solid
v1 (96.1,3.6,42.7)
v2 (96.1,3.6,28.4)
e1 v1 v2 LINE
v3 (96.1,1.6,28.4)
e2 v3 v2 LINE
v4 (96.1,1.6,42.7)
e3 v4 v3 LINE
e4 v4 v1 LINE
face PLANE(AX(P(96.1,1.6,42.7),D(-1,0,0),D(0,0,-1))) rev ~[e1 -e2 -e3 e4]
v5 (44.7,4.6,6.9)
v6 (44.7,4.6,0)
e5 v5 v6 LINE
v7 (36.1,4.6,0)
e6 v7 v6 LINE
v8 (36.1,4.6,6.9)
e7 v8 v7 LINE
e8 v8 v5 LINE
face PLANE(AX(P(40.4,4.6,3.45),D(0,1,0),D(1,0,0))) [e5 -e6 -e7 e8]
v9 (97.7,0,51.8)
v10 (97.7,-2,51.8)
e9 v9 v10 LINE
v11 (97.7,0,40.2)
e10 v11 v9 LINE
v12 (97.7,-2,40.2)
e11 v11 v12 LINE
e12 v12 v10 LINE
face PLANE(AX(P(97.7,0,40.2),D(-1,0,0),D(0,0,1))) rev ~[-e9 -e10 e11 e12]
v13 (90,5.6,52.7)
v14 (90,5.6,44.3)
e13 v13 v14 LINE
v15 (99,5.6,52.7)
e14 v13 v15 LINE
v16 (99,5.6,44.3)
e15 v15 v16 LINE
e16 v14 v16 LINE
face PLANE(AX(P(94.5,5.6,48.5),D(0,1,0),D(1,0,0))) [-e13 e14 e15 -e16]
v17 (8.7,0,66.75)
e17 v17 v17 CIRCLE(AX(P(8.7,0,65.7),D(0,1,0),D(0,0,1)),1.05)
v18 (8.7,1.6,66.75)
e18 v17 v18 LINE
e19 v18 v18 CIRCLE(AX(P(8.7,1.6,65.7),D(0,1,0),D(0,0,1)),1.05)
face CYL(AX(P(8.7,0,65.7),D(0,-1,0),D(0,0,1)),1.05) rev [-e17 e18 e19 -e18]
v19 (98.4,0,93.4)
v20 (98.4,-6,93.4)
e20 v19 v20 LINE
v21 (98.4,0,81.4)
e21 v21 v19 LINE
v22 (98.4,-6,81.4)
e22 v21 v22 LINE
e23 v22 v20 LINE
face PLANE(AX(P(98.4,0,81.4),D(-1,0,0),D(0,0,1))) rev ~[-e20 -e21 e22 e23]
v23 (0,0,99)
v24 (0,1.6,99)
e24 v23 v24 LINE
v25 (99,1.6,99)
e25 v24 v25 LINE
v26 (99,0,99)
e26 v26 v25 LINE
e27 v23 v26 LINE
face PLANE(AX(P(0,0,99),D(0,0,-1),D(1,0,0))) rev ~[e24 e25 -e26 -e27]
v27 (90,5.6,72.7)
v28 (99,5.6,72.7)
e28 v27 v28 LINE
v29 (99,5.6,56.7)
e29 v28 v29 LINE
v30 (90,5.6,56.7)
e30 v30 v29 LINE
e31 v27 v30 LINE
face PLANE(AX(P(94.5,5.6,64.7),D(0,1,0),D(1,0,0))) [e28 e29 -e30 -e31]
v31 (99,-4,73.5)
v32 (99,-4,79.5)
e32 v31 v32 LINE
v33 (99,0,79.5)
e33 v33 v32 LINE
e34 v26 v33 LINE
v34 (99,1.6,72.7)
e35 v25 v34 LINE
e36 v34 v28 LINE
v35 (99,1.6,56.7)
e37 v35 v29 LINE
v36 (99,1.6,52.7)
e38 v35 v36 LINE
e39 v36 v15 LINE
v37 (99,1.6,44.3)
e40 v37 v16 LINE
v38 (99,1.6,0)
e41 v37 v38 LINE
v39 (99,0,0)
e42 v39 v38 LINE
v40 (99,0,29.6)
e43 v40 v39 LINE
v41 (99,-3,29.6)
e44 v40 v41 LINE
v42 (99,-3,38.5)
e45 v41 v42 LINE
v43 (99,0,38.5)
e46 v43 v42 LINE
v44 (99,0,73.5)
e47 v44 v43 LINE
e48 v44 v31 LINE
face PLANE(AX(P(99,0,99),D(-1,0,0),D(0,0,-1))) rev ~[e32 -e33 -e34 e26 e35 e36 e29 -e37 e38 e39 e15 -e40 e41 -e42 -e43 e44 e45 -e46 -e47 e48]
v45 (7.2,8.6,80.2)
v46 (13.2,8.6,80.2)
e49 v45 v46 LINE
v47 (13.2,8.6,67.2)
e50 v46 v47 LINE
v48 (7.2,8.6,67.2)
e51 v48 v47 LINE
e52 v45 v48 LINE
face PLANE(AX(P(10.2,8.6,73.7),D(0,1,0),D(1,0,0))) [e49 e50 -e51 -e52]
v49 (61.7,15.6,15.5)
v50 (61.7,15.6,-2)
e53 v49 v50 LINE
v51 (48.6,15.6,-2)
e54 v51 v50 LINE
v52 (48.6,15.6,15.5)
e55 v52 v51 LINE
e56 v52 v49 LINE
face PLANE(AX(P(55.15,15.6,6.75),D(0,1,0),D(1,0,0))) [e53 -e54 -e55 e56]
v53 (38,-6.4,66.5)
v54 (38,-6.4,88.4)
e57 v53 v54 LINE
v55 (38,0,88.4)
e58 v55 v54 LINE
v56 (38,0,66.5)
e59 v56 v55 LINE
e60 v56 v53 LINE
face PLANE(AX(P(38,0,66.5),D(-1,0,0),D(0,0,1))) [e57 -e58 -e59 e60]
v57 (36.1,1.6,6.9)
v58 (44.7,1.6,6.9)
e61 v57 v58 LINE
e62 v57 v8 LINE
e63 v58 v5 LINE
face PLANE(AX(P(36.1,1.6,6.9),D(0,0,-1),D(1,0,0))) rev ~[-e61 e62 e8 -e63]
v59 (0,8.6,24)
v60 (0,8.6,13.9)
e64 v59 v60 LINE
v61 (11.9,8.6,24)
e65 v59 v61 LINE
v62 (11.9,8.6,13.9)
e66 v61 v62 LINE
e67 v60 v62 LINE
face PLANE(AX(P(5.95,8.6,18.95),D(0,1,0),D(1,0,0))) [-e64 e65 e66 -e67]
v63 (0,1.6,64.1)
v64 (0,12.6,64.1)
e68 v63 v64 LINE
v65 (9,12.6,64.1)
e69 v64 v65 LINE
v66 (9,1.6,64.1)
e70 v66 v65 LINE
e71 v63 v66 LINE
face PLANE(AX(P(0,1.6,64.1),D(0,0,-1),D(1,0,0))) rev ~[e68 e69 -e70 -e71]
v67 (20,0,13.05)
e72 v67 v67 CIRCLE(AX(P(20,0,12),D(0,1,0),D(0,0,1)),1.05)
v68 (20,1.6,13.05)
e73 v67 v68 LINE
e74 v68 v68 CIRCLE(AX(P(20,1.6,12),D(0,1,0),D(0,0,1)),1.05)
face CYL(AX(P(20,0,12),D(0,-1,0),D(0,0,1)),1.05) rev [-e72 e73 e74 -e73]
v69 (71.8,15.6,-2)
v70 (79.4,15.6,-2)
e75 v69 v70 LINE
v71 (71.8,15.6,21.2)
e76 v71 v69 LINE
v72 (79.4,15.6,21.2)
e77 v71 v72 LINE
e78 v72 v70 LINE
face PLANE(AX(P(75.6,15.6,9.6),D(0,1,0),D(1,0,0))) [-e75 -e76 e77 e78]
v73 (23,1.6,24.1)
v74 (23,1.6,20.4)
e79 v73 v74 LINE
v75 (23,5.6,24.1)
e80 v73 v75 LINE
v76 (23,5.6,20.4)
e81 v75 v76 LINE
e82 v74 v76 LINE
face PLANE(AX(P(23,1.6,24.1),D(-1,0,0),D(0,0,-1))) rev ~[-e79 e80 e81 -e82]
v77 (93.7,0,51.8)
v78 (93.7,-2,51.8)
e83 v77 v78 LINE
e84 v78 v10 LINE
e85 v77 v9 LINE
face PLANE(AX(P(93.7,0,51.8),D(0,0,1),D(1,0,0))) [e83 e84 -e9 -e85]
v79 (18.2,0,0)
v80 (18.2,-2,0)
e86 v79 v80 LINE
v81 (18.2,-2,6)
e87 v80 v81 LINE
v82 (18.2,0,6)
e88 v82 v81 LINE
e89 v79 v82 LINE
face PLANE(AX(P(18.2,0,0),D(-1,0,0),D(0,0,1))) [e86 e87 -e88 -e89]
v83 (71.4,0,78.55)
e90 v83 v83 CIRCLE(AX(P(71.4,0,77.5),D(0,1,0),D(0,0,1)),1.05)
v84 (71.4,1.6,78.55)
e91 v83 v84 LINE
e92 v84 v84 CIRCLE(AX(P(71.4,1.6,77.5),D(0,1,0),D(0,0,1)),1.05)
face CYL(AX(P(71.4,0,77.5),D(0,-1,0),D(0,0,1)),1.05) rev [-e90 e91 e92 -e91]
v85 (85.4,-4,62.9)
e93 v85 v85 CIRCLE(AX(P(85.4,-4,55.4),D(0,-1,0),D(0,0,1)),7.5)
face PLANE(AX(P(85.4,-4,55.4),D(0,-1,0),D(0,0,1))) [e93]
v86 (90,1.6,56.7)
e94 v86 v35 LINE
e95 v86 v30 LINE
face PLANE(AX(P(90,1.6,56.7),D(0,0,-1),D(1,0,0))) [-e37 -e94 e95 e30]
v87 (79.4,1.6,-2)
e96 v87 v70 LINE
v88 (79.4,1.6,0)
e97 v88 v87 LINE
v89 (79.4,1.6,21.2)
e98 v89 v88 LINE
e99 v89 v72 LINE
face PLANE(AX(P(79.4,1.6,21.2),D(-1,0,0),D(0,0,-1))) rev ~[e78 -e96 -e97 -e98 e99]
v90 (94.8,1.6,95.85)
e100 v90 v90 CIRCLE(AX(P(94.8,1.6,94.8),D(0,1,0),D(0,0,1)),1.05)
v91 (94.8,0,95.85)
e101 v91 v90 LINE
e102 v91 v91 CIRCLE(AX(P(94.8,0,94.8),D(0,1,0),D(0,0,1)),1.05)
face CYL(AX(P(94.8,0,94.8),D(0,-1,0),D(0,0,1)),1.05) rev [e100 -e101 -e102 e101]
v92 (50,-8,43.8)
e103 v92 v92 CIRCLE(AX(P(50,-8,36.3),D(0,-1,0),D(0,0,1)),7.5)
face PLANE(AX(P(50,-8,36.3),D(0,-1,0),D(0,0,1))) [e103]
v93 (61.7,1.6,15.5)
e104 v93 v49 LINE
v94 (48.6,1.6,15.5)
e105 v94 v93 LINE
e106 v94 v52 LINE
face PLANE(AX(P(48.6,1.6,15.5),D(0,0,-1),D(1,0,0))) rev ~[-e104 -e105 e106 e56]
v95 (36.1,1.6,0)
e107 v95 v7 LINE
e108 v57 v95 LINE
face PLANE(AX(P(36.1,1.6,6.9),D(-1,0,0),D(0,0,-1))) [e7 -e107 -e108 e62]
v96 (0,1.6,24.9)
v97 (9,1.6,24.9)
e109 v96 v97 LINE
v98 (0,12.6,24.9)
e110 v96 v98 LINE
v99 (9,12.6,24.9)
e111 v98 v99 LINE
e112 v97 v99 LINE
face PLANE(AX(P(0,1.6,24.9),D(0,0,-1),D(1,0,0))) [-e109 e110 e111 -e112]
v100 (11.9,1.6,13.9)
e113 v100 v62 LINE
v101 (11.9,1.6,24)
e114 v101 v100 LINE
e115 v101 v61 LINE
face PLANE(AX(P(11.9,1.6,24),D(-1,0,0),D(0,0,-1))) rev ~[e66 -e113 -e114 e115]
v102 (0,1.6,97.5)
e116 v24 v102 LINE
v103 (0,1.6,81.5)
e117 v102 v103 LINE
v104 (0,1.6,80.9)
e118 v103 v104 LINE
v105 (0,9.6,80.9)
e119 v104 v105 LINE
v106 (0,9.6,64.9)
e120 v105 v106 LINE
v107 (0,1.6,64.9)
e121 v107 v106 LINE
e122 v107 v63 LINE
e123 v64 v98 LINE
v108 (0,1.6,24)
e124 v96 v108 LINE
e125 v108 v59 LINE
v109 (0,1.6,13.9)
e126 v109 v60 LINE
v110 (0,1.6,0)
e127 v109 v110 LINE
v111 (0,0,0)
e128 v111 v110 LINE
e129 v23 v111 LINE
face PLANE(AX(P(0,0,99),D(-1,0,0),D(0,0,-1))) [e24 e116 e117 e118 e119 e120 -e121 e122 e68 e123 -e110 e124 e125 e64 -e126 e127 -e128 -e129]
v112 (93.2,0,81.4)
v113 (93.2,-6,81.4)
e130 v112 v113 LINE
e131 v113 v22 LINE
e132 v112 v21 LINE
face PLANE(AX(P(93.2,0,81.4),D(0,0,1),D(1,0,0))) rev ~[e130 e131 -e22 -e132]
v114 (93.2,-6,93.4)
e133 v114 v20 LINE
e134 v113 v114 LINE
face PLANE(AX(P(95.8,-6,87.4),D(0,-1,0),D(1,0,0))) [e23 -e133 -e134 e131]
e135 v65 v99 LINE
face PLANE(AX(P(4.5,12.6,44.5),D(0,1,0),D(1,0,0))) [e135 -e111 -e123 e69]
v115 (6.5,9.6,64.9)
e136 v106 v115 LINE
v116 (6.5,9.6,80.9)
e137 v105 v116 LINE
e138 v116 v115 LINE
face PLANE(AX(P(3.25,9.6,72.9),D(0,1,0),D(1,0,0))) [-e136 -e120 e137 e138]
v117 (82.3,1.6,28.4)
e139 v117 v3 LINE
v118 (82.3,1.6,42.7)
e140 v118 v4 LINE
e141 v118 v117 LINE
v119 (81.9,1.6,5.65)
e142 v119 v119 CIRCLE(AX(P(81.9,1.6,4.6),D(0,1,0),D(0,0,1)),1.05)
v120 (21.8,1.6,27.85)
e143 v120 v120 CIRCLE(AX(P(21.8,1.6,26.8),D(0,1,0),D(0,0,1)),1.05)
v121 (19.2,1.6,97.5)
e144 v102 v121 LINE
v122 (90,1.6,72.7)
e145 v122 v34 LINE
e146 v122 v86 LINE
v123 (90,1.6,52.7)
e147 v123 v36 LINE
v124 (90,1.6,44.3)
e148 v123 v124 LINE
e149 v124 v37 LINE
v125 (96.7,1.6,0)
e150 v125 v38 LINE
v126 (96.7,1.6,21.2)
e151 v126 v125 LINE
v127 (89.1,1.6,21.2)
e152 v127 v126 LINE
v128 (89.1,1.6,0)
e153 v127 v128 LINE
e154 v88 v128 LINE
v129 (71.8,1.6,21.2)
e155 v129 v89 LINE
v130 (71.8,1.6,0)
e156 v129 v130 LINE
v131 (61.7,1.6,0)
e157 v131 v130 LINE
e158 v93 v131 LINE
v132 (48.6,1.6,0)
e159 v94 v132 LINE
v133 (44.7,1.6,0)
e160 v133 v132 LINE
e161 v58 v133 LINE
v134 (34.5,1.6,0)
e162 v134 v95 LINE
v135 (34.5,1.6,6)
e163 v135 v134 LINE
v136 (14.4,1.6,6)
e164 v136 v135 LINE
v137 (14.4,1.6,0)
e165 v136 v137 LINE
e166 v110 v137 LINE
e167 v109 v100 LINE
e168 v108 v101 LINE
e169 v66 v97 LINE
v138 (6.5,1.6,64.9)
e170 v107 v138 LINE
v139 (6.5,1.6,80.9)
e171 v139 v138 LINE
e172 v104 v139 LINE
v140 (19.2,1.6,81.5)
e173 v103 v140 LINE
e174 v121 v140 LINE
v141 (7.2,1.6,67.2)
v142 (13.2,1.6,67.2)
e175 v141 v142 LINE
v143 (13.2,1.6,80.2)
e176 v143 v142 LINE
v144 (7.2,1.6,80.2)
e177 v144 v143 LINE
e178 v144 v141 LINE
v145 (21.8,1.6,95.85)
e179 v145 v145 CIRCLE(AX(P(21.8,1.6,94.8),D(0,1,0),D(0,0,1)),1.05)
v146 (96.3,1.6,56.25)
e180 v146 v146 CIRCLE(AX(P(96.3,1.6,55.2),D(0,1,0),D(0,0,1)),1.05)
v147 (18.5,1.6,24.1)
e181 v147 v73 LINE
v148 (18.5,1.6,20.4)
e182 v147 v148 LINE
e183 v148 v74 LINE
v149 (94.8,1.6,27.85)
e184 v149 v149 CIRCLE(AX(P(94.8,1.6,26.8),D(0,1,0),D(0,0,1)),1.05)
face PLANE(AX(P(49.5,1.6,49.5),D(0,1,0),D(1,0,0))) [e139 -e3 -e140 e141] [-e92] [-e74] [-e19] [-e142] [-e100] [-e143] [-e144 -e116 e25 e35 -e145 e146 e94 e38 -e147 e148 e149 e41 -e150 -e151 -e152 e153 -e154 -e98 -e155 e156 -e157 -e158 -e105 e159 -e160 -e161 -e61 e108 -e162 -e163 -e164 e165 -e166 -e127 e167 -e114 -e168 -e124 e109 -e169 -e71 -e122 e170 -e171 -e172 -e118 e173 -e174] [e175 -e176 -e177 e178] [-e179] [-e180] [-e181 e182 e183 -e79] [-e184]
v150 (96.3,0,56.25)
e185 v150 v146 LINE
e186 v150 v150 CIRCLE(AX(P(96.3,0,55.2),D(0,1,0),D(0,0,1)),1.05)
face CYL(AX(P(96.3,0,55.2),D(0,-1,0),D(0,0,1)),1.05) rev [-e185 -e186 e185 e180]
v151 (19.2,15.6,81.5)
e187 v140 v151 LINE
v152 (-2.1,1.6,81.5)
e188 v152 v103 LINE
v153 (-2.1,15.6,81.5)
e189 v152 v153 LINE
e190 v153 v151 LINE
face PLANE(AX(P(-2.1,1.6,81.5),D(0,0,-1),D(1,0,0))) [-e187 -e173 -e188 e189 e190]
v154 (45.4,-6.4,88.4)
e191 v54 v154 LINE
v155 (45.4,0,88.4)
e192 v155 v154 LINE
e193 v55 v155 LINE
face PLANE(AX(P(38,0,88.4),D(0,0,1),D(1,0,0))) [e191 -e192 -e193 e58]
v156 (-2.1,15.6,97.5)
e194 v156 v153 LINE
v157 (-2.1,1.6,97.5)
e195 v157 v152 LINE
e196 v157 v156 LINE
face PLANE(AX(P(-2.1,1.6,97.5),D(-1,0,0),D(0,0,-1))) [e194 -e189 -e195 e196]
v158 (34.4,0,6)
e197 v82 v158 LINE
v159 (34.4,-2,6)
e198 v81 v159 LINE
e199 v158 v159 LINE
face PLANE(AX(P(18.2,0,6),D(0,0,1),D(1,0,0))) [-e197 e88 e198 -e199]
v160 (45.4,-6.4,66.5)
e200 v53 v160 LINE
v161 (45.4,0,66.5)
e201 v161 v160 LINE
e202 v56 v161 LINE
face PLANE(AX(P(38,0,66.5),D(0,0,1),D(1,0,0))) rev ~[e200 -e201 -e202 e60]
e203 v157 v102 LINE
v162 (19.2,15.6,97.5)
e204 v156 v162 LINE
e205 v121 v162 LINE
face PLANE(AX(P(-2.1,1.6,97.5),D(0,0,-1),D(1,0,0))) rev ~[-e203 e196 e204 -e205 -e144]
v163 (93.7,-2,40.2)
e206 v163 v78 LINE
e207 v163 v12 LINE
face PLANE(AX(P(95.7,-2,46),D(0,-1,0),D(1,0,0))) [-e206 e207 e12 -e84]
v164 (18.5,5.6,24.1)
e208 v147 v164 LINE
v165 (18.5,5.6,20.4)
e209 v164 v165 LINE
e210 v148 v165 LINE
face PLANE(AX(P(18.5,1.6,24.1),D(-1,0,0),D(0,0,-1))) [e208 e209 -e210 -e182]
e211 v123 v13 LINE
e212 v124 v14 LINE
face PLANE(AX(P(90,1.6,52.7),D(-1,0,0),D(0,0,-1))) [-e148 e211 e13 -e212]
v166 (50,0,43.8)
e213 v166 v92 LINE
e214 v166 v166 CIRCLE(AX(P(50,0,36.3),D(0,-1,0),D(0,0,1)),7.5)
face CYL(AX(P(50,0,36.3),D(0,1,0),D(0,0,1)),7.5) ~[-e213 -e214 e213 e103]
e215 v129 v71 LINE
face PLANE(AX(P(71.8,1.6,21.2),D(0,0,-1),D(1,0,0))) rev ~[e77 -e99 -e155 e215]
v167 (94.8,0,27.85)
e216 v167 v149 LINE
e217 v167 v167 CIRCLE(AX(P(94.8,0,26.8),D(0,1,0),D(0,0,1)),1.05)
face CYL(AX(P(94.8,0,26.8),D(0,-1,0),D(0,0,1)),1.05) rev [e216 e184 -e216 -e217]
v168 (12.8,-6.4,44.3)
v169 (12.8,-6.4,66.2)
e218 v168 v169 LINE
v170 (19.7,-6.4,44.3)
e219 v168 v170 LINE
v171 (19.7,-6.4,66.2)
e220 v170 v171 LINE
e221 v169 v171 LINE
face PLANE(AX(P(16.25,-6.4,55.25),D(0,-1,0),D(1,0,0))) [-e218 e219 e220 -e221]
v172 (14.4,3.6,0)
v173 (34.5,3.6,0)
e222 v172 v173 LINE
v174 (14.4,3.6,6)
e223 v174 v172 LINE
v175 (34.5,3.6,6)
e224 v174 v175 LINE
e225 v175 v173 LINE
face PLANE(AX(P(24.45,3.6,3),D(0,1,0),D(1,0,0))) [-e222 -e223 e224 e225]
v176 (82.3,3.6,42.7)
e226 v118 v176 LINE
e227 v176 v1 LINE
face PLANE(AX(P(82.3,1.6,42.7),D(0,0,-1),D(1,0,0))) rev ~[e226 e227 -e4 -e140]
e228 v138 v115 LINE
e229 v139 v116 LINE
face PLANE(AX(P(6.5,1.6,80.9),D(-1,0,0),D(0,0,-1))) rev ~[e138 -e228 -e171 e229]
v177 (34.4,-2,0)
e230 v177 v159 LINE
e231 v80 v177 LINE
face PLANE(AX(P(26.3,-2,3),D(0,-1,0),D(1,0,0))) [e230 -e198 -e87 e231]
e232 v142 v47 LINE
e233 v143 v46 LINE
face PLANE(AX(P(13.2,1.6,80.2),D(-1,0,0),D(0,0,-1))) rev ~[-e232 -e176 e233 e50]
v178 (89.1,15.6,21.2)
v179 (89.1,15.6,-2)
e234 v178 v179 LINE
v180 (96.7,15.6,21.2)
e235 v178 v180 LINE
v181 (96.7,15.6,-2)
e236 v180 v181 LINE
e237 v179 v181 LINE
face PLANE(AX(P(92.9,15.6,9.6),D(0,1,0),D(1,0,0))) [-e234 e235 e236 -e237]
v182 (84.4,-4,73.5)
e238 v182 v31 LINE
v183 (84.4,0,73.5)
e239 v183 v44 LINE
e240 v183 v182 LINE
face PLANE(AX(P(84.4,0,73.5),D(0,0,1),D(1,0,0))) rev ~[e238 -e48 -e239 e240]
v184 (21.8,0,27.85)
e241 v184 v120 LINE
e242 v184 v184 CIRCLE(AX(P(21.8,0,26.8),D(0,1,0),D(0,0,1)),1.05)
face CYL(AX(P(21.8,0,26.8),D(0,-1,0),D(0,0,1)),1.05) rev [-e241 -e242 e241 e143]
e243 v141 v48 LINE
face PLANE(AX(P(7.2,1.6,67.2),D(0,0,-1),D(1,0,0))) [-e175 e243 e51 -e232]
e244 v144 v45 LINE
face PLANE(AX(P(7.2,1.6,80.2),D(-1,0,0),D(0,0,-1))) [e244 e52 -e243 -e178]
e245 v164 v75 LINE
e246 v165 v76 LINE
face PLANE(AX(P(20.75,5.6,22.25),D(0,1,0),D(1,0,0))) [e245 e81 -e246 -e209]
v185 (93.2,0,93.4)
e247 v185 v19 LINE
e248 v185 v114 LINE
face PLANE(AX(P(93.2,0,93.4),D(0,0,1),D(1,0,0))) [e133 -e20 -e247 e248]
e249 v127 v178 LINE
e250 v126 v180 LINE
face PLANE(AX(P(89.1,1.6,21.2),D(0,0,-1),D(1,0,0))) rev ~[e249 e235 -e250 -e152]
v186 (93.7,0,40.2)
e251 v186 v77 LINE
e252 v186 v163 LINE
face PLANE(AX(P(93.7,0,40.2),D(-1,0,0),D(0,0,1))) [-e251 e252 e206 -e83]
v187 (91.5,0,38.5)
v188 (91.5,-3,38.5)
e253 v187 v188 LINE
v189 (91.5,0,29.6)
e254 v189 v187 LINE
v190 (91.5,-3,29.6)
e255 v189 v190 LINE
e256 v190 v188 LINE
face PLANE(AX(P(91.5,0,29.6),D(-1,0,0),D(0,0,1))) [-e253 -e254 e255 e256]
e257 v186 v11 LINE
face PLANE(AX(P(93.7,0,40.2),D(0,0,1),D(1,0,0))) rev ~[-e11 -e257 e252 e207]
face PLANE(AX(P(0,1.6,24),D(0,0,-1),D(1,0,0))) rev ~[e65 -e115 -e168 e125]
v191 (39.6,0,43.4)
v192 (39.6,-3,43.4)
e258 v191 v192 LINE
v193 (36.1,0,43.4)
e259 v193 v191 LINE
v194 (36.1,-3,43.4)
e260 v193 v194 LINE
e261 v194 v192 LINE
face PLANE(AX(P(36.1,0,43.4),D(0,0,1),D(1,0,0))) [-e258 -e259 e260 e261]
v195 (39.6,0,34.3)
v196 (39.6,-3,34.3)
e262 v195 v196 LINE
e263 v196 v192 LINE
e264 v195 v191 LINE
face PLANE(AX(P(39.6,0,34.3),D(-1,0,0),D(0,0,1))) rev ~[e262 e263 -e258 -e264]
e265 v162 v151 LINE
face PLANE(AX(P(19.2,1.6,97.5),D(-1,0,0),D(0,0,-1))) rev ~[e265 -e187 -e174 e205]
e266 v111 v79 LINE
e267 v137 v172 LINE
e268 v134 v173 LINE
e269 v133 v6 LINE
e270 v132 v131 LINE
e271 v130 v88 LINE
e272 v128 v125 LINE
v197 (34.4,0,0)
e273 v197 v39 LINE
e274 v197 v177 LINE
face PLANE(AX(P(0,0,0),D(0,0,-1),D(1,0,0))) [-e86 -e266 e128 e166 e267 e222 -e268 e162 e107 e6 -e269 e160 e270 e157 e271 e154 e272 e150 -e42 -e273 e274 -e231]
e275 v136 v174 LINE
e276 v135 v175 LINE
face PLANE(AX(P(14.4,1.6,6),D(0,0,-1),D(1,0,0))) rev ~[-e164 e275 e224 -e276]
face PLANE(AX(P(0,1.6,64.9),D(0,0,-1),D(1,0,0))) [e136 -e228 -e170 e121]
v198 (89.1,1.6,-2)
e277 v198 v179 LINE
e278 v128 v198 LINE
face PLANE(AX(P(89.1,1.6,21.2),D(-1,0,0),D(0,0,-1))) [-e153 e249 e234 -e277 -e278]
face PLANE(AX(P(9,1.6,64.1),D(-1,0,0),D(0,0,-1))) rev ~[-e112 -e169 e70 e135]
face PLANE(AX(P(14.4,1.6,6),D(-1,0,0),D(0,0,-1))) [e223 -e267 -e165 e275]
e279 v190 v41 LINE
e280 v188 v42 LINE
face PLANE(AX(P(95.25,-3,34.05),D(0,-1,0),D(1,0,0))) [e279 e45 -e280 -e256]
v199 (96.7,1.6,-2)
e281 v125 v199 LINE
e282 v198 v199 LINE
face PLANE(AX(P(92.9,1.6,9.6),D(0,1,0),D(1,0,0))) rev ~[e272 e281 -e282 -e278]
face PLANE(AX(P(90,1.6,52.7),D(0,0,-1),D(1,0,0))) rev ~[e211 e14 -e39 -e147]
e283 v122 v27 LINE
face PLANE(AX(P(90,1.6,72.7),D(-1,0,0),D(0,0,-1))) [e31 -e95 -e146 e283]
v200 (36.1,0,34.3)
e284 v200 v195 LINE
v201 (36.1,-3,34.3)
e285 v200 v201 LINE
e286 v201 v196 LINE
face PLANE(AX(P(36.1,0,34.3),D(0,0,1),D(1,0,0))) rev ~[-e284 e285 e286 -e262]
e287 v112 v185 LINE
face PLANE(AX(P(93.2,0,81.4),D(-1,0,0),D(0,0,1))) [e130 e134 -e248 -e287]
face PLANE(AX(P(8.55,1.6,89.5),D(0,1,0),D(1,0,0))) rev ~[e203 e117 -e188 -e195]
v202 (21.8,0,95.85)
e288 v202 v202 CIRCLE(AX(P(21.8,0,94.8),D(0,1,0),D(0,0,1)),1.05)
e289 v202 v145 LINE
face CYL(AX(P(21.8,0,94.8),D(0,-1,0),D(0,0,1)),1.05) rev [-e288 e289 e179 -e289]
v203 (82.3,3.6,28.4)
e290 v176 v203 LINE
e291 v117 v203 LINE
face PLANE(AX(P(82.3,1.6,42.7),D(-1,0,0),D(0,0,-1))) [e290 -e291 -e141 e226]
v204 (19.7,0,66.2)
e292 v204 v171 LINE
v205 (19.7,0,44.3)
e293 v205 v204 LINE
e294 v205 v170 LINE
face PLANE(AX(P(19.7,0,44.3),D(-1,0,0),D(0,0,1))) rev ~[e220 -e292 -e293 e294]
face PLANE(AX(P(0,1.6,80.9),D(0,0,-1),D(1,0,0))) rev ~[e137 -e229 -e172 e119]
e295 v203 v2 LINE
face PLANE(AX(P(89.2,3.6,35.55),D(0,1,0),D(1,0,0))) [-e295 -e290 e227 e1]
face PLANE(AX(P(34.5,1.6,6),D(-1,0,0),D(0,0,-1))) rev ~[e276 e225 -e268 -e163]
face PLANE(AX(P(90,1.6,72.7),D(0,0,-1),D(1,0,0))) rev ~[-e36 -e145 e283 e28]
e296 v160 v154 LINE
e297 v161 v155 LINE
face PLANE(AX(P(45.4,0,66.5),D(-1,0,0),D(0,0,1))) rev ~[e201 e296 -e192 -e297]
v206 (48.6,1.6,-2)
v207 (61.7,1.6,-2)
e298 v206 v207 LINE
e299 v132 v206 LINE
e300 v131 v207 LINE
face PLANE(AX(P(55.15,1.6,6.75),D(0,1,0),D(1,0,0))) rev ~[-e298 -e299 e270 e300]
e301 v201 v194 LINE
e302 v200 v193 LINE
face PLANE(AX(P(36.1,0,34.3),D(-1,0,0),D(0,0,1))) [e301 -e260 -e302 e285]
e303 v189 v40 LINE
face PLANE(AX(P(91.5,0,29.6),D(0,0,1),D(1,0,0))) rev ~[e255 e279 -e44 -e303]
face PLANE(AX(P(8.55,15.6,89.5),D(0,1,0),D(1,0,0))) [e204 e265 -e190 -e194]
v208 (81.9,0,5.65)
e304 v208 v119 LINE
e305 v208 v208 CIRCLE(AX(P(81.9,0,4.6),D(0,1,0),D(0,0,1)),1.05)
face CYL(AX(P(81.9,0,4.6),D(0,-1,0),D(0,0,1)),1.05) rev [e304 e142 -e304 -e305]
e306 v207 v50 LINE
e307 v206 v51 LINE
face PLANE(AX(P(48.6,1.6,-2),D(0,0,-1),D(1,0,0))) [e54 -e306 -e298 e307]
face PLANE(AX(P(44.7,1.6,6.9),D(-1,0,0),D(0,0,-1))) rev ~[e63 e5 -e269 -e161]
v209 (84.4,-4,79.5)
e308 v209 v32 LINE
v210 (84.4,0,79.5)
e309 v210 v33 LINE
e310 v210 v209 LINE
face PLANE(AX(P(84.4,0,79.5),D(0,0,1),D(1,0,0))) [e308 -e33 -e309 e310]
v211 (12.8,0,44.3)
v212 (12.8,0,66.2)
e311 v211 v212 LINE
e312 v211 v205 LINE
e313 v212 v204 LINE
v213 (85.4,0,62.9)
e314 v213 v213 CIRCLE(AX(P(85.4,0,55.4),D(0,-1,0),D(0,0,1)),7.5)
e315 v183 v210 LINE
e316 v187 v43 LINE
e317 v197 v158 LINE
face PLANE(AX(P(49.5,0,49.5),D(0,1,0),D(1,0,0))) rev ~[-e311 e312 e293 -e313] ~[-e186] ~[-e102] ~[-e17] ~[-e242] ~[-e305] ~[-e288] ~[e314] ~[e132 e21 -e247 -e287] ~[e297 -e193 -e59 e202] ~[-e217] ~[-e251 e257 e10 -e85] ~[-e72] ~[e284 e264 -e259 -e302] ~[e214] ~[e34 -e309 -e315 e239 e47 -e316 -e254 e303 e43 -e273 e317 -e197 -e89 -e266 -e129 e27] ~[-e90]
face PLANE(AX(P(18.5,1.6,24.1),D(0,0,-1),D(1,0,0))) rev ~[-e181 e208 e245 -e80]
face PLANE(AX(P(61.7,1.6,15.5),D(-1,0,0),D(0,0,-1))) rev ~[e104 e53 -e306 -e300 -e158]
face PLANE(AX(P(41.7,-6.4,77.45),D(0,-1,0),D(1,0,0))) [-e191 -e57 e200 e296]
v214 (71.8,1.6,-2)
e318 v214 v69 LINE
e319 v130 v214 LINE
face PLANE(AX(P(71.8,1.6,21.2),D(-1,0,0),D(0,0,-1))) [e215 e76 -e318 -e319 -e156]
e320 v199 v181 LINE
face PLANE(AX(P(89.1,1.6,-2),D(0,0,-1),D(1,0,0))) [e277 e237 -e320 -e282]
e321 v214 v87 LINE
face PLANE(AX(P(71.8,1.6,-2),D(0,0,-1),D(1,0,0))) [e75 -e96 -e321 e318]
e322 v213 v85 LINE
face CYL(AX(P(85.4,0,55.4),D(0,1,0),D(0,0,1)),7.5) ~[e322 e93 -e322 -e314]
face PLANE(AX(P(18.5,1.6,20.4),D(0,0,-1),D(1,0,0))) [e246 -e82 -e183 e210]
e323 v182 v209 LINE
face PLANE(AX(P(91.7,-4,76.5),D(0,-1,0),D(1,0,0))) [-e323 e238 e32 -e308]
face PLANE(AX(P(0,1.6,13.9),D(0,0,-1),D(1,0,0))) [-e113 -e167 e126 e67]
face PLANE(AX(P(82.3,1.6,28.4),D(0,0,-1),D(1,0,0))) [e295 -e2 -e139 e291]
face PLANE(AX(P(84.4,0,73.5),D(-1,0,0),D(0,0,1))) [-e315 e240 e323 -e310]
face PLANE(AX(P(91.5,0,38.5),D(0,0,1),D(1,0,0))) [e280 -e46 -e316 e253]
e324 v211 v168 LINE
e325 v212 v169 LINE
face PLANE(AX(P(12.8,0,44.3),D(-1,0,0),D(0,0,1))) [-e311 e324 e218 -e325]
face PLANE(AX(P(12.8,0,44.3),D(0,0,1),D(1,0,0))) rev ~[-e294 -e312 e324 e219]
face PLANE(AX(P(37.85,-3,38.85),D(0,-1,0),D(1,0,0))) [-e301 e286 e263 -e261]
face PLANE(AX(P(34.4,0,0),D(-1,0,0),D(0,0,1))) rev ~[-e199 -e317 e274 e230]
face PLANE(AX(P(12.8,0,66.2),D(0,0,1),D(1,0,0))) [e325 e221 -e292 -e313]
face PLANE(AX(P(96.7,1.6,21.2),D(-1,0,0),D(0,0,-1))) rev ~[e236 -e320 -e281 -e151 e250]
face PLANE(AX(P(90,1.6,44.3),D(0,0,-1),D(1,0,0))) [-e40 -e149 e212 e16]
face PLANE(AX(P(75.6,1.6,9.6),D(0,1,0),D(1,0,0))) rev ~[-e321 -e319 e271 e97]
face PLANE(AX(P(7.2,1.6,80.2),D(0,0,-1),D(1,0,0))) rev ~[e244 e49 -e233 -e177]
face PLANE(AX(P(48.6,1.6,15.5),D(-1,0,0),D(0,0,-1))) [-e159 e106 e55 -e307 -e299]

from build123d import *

# Parameters (mm, degrees)
SKETCH_1_W       = 99
SKETCH_1_H       = 99
SKETCH_1_R       = 1.05
EXTRUDE_1_DEPTH  = 1.6
SKETCH_2_W       = 7.6
SKETCH_2_H       = 23.2
SKETCH_2_W_2     = 13.1
SKETCH_2_H_2     = 17.5
SKETCH_2_W_3     = 21.3
SKETCH_2_H_3     = 16
EXTRUDE_2_DEPTH  = 14
SKETCH_3_W       = 8.6
SKETCH_3_H       = 6.9
EXTRUDE_3_DEPTH  = 3
SKETCH_4_W       = 20.1
SKETCH_4_H       = 6
SKETCH_4_W_2     = 13.8
SKETCH_4_H_2     = 14.3
EXTRUDE_4_DEPTH  = 2
SKETCH_5_W       = 11.9
SKETCH_5_H       = 10.1
SKETCH_5_W_2     = 6
SKETCH_5_H_2     = 13
EXTRUDE_5_DEPTH  = 7
SKETCH_6_W       = 9
SKETCH_6_H       = 39.2
EXTRUDE_6_DEPTH  = 11
SKETCH_7_W       = 6.5
SKETCH_7_H       = 16
EXTRUDE_7_DEPTH  = 8
SKETCH_8_W       = 9
SKETCH_8_H       = 16
SKETCH_8_H_2     = 8.4
SKETCH_8_W_2     = 4.5
SKETCH_8_H_3     = 3.7
EXTRUDE_8_DEPTH  = 4
SKETCH_9_W       = 5.2
SKETCH_9_H       = 12
EXTRUDE_9_DEPTH  = 6
SKETCH_10_R      = 7.5
SKETCH_10_W      = 14.6
SKETCH_10_H      = 6
EXTRUDE_10_DEPTH = 4
SKETCH_11_W      = 4
SKETCH_11_H      = 11.6
SKETCH_11_W_2    = 16.2
SKETCH_11_H_2    = 6
EXTRUDE_11_DEPTH = 2
SKETCH_12_W      = 7.5
SKETCH_12_H      = 8.9
SKETCH_12_W_2    = 3.5
SKETCH_12_H_2    = 9.1
EXTRUDE_12_DEPTH = 3
SKETCH_13_W      = 7.4
SKETCH_13_H      = 21.9
SKETCH_13_W_2    = 6.9
EXTRUDE_13_DEPTH = 6.4
SKETCH_14_R      = 7.5
EXTRUDE_14_DEPTH = 8


with BuildPart() as part:
    # 草图1 → 凸台-拉伸1 (new body)
    with BuildSketch(Plane(origin=(0, 0, 0), x_dir=(1, 0, 0), z_dir=(0, 1, 0))):
        with Locations((49.5, -49.5)):
            Rectangle(SKETCH_1_W, SKETCH_1_H)
        with Locations(Location((21.8, -26.8, 0), (0, 0, 270))):
            Circle(SKETCH_1_R, mode=Mode.SUBTRACT)
        with Locations(Location((94.8, -26.8, 0), (0, 0, 270))):
            Circle(SKETCH_1_R, mode=Mode.SUBTRACT)
        with Locations(Location((21.8, -94.8, 0), (0, 0, 270))):
            Circle(SKETCH_1_R, mode=Mode.SUBTRACT)
        with Locations(Location((94.8, -94.8, 0), (0, 0, 270))):
            Circle(SKETCH_1_R, mode=Mode.SUBTRACT)
        with Locations(Location((8.7, -65.7, 0), (0, 0, 270))):
            Circle(SKETCH_1_R, mode=Mode.SUBTRACT)
        with Locations(Location((81.9, -4.6, 0), (0, 0, 270))):
            Circle(SKETCH_1_R, mode=Mode.SUBTRACT)
        with Locations(Location((96.3, -55.2, 0), (0, 0, 270))):
            Circle(SKETCH_1_R, mode=Mode.SUBTRACT)
        with Locations(Location((20, -12, 0), (0, 0, 270))):
            Circle(SKETCH_1_R, mode=Mode.SUBTRACT)
        with Locations(Location((71.4, -77.5, 0), (0, 0, 270))):
            Circle(SKETCH_1_R, mode=Mode.SUBTRACT)
    extrude(amount=EXTRUDE_1_DEPTH)

    # 草图2 → 凸台-拉伸2 (add)
    with BuildSketch(Plane(origin=(0, 1.6, 0), x_dir=(1, 0, 0), z_dir=(0, 1, 0))):
        with Locations((92.9, -9.6)):
            Rectangle(SKETCH_2_W, SKETCH_2_H)
        with Locations((75.6, -9.6)):
            Rectangle(SKETCH_2_W, SKETCH_2_H)
        with Locations((55.15, -6.75)):
            Rectangle(SKETCH_2_W_2, SKETCH_2_H_2)
        with Locations((8.55, -89.5)):
            Rectangle(SKETCH_2_W_3, SKETCH_2_H_3)
    extrude(amount=EXTRUDE_2_DEPTH)

    # 草图3 → 凸台-拉伸3 (add)
    with BuildSketch(Plane(origin=(0, 1.6, 0), x_dir=(1, 0, 0), z_dir=(0, 1, 0))):
        with Locations((40.4, -3.45)):
            Rectangle(SKETCH_3_W, SKETCH_3_H)
    extrude(amount=EXTRUDE_3_DEPTH)

    # 草图4 → 凸台-拉伸4 (add)
    with BuildSketch(Plane(origin=(0, 1.6, 0), x_dir=(1, 0, 0), z_dir=(0, 1, 0))):
        with Locations((24.45, -3)):
            Rectangle(SKETCH_4_W, SKETCH_4_H)
        with Locations((89.2, -35.55)):
            Rectangle(SKETCH_4_W_2, SKETCH_4_H_2)
    extrude(amount=EXTRUDE_4_DEPTH)

    # 草图5 → 凸台-拉伸5 (add)
    with BuildSketch(Plane(origin=(0, 1.6, 0), x_dir=(1, 0, 0), z_dir=(0, 1, 0))):
        with Locations((5.95, -18.95)):
            Rectangle(SKETCH_5_W, SKETCH_5_H)
        with Locations((10.2, -73.7)):
            Rectangle(SKETCH_5_W_2, SKETCH_5_H_2)
    extrude(amount=EXTRUDE_5_DEPTH)

    # 草图6 → 凸台-拉伸6 (add)
    with BuildSketch(Plane(origin=(0, 1.6, 0), x_dir=(1, 0, 0), z_dir=(0, 1, 0))):
        with Locations((4.5, -44.5)):
            Rectangle(SKETCH_6_W, SKETCH_6_H)
    extrude(amount=EXTRUDE_6_DEPTH)

    # 草图7 → 凸台-拉伸7 (add)
    with BuildSketch(Plane(origin=(0, 1.6, 0), x_dir=(1, 0, 0), z_dir=(0, 1, 0))):
        with Locations((3.25, -72.9)):
            Rectangle(SKETCH_7_W, SKETCH_7_H)
    extrude(amount=EXTRUDE_7_DEPTH)

    # 草图8 → 凸台-拉伸8 (add)
    with BuildSketch(Plane(origin=(0, 1.6, 0), x_dir=(1, 0, 0), z_dir=(0, 1, 0))):
        with Locations((94.5, -64.7)):
            Rectangle(SKETCH_8_W, SKETCH_8_H)
        with Locations((94.5, -48.5)):
            Rectangle(SKETCH_8_W, SKETCH_8_H_2)
        with Locations((20.75, -22.25)):
            Rectangle(SKETCH_8_W_2, SKETCH_8_H_3)
    extrude(amount=EXTRUDE_8_DEPTH)

    # 草图9 → 凸台-拉伸9 (add)
    with BuildSketch(Plane.XZ):
        with Locations((95.8, 87.4)):
            Rectangle(SKETCH_9_W, SKETCH_9_H)
    extrude(amount=EXTRUDE_9_DEPTH)

    # 草图10 → 凸台-拉伸10 (add)
    with BuildSketch(Plane.XZ):
        with Locations(Location((85.4, 55.4, 0), (0, 0, 90))):
            Circle(SKETCH_10_R)
        with Locations((91.7, 76.5)):
            Rectangle(SKETCH_10_W, SKETCH_10_H)
    extrude(amount=EXTRUDE_10_DEPTH)

    # 草图11 → 凸台-拉伸11 (add)
    with BuildSketch(Plane.XZ):
        with Locations((95.7, 46)):
            Rectangle(SKETCH_11_W, SKETCH_11_H)
        with Locations((26.3, 3)):
            Rectangle(SKETCH_11_W_2, SKETCH_11_H_2)
    extrude(amount=EXTRUDE_11_DEPTH)

    # 草图12 → 凸台-拉伸12 (add)
    with BuildSketch(Plane.XZ):
        with Locations((95.25, 34.05)):
            Rectangle(SKETCH_12_W, SKETCH_12_H)
        with Locations((37.85, 38.85)):
            Rectangle(SKETCH_12_W_2, SKETCH_12_H_2)
    extrude(amount=EXTRUDE_12_DEPTH)

    # 草图13 → 凸台-拉伸13 (add)
    with BuildSketch(Plane.XZ):
        with Locations((41.7, 77.45)):
            Rectangle(SKETCH_13_W, SKETCH_13_H)
        with Locations((16.25, 55.25)):
            Rectangle(SKETCH_13_W_2, SKETCH_13_H)
    extrude(amount=EXTRUDE_13_DEPTH)

    # 草图14 → 凸台-拉伸14 (add)
    with BuildSketch(Plane.XZ):
        with Locations(Location((50, 36.3, 0), (0, 0, 90))):
            Circle(SKETCH_14_R)
    extrude(amount=EXTRUDE_14_DEPTH)


solid = part.part
